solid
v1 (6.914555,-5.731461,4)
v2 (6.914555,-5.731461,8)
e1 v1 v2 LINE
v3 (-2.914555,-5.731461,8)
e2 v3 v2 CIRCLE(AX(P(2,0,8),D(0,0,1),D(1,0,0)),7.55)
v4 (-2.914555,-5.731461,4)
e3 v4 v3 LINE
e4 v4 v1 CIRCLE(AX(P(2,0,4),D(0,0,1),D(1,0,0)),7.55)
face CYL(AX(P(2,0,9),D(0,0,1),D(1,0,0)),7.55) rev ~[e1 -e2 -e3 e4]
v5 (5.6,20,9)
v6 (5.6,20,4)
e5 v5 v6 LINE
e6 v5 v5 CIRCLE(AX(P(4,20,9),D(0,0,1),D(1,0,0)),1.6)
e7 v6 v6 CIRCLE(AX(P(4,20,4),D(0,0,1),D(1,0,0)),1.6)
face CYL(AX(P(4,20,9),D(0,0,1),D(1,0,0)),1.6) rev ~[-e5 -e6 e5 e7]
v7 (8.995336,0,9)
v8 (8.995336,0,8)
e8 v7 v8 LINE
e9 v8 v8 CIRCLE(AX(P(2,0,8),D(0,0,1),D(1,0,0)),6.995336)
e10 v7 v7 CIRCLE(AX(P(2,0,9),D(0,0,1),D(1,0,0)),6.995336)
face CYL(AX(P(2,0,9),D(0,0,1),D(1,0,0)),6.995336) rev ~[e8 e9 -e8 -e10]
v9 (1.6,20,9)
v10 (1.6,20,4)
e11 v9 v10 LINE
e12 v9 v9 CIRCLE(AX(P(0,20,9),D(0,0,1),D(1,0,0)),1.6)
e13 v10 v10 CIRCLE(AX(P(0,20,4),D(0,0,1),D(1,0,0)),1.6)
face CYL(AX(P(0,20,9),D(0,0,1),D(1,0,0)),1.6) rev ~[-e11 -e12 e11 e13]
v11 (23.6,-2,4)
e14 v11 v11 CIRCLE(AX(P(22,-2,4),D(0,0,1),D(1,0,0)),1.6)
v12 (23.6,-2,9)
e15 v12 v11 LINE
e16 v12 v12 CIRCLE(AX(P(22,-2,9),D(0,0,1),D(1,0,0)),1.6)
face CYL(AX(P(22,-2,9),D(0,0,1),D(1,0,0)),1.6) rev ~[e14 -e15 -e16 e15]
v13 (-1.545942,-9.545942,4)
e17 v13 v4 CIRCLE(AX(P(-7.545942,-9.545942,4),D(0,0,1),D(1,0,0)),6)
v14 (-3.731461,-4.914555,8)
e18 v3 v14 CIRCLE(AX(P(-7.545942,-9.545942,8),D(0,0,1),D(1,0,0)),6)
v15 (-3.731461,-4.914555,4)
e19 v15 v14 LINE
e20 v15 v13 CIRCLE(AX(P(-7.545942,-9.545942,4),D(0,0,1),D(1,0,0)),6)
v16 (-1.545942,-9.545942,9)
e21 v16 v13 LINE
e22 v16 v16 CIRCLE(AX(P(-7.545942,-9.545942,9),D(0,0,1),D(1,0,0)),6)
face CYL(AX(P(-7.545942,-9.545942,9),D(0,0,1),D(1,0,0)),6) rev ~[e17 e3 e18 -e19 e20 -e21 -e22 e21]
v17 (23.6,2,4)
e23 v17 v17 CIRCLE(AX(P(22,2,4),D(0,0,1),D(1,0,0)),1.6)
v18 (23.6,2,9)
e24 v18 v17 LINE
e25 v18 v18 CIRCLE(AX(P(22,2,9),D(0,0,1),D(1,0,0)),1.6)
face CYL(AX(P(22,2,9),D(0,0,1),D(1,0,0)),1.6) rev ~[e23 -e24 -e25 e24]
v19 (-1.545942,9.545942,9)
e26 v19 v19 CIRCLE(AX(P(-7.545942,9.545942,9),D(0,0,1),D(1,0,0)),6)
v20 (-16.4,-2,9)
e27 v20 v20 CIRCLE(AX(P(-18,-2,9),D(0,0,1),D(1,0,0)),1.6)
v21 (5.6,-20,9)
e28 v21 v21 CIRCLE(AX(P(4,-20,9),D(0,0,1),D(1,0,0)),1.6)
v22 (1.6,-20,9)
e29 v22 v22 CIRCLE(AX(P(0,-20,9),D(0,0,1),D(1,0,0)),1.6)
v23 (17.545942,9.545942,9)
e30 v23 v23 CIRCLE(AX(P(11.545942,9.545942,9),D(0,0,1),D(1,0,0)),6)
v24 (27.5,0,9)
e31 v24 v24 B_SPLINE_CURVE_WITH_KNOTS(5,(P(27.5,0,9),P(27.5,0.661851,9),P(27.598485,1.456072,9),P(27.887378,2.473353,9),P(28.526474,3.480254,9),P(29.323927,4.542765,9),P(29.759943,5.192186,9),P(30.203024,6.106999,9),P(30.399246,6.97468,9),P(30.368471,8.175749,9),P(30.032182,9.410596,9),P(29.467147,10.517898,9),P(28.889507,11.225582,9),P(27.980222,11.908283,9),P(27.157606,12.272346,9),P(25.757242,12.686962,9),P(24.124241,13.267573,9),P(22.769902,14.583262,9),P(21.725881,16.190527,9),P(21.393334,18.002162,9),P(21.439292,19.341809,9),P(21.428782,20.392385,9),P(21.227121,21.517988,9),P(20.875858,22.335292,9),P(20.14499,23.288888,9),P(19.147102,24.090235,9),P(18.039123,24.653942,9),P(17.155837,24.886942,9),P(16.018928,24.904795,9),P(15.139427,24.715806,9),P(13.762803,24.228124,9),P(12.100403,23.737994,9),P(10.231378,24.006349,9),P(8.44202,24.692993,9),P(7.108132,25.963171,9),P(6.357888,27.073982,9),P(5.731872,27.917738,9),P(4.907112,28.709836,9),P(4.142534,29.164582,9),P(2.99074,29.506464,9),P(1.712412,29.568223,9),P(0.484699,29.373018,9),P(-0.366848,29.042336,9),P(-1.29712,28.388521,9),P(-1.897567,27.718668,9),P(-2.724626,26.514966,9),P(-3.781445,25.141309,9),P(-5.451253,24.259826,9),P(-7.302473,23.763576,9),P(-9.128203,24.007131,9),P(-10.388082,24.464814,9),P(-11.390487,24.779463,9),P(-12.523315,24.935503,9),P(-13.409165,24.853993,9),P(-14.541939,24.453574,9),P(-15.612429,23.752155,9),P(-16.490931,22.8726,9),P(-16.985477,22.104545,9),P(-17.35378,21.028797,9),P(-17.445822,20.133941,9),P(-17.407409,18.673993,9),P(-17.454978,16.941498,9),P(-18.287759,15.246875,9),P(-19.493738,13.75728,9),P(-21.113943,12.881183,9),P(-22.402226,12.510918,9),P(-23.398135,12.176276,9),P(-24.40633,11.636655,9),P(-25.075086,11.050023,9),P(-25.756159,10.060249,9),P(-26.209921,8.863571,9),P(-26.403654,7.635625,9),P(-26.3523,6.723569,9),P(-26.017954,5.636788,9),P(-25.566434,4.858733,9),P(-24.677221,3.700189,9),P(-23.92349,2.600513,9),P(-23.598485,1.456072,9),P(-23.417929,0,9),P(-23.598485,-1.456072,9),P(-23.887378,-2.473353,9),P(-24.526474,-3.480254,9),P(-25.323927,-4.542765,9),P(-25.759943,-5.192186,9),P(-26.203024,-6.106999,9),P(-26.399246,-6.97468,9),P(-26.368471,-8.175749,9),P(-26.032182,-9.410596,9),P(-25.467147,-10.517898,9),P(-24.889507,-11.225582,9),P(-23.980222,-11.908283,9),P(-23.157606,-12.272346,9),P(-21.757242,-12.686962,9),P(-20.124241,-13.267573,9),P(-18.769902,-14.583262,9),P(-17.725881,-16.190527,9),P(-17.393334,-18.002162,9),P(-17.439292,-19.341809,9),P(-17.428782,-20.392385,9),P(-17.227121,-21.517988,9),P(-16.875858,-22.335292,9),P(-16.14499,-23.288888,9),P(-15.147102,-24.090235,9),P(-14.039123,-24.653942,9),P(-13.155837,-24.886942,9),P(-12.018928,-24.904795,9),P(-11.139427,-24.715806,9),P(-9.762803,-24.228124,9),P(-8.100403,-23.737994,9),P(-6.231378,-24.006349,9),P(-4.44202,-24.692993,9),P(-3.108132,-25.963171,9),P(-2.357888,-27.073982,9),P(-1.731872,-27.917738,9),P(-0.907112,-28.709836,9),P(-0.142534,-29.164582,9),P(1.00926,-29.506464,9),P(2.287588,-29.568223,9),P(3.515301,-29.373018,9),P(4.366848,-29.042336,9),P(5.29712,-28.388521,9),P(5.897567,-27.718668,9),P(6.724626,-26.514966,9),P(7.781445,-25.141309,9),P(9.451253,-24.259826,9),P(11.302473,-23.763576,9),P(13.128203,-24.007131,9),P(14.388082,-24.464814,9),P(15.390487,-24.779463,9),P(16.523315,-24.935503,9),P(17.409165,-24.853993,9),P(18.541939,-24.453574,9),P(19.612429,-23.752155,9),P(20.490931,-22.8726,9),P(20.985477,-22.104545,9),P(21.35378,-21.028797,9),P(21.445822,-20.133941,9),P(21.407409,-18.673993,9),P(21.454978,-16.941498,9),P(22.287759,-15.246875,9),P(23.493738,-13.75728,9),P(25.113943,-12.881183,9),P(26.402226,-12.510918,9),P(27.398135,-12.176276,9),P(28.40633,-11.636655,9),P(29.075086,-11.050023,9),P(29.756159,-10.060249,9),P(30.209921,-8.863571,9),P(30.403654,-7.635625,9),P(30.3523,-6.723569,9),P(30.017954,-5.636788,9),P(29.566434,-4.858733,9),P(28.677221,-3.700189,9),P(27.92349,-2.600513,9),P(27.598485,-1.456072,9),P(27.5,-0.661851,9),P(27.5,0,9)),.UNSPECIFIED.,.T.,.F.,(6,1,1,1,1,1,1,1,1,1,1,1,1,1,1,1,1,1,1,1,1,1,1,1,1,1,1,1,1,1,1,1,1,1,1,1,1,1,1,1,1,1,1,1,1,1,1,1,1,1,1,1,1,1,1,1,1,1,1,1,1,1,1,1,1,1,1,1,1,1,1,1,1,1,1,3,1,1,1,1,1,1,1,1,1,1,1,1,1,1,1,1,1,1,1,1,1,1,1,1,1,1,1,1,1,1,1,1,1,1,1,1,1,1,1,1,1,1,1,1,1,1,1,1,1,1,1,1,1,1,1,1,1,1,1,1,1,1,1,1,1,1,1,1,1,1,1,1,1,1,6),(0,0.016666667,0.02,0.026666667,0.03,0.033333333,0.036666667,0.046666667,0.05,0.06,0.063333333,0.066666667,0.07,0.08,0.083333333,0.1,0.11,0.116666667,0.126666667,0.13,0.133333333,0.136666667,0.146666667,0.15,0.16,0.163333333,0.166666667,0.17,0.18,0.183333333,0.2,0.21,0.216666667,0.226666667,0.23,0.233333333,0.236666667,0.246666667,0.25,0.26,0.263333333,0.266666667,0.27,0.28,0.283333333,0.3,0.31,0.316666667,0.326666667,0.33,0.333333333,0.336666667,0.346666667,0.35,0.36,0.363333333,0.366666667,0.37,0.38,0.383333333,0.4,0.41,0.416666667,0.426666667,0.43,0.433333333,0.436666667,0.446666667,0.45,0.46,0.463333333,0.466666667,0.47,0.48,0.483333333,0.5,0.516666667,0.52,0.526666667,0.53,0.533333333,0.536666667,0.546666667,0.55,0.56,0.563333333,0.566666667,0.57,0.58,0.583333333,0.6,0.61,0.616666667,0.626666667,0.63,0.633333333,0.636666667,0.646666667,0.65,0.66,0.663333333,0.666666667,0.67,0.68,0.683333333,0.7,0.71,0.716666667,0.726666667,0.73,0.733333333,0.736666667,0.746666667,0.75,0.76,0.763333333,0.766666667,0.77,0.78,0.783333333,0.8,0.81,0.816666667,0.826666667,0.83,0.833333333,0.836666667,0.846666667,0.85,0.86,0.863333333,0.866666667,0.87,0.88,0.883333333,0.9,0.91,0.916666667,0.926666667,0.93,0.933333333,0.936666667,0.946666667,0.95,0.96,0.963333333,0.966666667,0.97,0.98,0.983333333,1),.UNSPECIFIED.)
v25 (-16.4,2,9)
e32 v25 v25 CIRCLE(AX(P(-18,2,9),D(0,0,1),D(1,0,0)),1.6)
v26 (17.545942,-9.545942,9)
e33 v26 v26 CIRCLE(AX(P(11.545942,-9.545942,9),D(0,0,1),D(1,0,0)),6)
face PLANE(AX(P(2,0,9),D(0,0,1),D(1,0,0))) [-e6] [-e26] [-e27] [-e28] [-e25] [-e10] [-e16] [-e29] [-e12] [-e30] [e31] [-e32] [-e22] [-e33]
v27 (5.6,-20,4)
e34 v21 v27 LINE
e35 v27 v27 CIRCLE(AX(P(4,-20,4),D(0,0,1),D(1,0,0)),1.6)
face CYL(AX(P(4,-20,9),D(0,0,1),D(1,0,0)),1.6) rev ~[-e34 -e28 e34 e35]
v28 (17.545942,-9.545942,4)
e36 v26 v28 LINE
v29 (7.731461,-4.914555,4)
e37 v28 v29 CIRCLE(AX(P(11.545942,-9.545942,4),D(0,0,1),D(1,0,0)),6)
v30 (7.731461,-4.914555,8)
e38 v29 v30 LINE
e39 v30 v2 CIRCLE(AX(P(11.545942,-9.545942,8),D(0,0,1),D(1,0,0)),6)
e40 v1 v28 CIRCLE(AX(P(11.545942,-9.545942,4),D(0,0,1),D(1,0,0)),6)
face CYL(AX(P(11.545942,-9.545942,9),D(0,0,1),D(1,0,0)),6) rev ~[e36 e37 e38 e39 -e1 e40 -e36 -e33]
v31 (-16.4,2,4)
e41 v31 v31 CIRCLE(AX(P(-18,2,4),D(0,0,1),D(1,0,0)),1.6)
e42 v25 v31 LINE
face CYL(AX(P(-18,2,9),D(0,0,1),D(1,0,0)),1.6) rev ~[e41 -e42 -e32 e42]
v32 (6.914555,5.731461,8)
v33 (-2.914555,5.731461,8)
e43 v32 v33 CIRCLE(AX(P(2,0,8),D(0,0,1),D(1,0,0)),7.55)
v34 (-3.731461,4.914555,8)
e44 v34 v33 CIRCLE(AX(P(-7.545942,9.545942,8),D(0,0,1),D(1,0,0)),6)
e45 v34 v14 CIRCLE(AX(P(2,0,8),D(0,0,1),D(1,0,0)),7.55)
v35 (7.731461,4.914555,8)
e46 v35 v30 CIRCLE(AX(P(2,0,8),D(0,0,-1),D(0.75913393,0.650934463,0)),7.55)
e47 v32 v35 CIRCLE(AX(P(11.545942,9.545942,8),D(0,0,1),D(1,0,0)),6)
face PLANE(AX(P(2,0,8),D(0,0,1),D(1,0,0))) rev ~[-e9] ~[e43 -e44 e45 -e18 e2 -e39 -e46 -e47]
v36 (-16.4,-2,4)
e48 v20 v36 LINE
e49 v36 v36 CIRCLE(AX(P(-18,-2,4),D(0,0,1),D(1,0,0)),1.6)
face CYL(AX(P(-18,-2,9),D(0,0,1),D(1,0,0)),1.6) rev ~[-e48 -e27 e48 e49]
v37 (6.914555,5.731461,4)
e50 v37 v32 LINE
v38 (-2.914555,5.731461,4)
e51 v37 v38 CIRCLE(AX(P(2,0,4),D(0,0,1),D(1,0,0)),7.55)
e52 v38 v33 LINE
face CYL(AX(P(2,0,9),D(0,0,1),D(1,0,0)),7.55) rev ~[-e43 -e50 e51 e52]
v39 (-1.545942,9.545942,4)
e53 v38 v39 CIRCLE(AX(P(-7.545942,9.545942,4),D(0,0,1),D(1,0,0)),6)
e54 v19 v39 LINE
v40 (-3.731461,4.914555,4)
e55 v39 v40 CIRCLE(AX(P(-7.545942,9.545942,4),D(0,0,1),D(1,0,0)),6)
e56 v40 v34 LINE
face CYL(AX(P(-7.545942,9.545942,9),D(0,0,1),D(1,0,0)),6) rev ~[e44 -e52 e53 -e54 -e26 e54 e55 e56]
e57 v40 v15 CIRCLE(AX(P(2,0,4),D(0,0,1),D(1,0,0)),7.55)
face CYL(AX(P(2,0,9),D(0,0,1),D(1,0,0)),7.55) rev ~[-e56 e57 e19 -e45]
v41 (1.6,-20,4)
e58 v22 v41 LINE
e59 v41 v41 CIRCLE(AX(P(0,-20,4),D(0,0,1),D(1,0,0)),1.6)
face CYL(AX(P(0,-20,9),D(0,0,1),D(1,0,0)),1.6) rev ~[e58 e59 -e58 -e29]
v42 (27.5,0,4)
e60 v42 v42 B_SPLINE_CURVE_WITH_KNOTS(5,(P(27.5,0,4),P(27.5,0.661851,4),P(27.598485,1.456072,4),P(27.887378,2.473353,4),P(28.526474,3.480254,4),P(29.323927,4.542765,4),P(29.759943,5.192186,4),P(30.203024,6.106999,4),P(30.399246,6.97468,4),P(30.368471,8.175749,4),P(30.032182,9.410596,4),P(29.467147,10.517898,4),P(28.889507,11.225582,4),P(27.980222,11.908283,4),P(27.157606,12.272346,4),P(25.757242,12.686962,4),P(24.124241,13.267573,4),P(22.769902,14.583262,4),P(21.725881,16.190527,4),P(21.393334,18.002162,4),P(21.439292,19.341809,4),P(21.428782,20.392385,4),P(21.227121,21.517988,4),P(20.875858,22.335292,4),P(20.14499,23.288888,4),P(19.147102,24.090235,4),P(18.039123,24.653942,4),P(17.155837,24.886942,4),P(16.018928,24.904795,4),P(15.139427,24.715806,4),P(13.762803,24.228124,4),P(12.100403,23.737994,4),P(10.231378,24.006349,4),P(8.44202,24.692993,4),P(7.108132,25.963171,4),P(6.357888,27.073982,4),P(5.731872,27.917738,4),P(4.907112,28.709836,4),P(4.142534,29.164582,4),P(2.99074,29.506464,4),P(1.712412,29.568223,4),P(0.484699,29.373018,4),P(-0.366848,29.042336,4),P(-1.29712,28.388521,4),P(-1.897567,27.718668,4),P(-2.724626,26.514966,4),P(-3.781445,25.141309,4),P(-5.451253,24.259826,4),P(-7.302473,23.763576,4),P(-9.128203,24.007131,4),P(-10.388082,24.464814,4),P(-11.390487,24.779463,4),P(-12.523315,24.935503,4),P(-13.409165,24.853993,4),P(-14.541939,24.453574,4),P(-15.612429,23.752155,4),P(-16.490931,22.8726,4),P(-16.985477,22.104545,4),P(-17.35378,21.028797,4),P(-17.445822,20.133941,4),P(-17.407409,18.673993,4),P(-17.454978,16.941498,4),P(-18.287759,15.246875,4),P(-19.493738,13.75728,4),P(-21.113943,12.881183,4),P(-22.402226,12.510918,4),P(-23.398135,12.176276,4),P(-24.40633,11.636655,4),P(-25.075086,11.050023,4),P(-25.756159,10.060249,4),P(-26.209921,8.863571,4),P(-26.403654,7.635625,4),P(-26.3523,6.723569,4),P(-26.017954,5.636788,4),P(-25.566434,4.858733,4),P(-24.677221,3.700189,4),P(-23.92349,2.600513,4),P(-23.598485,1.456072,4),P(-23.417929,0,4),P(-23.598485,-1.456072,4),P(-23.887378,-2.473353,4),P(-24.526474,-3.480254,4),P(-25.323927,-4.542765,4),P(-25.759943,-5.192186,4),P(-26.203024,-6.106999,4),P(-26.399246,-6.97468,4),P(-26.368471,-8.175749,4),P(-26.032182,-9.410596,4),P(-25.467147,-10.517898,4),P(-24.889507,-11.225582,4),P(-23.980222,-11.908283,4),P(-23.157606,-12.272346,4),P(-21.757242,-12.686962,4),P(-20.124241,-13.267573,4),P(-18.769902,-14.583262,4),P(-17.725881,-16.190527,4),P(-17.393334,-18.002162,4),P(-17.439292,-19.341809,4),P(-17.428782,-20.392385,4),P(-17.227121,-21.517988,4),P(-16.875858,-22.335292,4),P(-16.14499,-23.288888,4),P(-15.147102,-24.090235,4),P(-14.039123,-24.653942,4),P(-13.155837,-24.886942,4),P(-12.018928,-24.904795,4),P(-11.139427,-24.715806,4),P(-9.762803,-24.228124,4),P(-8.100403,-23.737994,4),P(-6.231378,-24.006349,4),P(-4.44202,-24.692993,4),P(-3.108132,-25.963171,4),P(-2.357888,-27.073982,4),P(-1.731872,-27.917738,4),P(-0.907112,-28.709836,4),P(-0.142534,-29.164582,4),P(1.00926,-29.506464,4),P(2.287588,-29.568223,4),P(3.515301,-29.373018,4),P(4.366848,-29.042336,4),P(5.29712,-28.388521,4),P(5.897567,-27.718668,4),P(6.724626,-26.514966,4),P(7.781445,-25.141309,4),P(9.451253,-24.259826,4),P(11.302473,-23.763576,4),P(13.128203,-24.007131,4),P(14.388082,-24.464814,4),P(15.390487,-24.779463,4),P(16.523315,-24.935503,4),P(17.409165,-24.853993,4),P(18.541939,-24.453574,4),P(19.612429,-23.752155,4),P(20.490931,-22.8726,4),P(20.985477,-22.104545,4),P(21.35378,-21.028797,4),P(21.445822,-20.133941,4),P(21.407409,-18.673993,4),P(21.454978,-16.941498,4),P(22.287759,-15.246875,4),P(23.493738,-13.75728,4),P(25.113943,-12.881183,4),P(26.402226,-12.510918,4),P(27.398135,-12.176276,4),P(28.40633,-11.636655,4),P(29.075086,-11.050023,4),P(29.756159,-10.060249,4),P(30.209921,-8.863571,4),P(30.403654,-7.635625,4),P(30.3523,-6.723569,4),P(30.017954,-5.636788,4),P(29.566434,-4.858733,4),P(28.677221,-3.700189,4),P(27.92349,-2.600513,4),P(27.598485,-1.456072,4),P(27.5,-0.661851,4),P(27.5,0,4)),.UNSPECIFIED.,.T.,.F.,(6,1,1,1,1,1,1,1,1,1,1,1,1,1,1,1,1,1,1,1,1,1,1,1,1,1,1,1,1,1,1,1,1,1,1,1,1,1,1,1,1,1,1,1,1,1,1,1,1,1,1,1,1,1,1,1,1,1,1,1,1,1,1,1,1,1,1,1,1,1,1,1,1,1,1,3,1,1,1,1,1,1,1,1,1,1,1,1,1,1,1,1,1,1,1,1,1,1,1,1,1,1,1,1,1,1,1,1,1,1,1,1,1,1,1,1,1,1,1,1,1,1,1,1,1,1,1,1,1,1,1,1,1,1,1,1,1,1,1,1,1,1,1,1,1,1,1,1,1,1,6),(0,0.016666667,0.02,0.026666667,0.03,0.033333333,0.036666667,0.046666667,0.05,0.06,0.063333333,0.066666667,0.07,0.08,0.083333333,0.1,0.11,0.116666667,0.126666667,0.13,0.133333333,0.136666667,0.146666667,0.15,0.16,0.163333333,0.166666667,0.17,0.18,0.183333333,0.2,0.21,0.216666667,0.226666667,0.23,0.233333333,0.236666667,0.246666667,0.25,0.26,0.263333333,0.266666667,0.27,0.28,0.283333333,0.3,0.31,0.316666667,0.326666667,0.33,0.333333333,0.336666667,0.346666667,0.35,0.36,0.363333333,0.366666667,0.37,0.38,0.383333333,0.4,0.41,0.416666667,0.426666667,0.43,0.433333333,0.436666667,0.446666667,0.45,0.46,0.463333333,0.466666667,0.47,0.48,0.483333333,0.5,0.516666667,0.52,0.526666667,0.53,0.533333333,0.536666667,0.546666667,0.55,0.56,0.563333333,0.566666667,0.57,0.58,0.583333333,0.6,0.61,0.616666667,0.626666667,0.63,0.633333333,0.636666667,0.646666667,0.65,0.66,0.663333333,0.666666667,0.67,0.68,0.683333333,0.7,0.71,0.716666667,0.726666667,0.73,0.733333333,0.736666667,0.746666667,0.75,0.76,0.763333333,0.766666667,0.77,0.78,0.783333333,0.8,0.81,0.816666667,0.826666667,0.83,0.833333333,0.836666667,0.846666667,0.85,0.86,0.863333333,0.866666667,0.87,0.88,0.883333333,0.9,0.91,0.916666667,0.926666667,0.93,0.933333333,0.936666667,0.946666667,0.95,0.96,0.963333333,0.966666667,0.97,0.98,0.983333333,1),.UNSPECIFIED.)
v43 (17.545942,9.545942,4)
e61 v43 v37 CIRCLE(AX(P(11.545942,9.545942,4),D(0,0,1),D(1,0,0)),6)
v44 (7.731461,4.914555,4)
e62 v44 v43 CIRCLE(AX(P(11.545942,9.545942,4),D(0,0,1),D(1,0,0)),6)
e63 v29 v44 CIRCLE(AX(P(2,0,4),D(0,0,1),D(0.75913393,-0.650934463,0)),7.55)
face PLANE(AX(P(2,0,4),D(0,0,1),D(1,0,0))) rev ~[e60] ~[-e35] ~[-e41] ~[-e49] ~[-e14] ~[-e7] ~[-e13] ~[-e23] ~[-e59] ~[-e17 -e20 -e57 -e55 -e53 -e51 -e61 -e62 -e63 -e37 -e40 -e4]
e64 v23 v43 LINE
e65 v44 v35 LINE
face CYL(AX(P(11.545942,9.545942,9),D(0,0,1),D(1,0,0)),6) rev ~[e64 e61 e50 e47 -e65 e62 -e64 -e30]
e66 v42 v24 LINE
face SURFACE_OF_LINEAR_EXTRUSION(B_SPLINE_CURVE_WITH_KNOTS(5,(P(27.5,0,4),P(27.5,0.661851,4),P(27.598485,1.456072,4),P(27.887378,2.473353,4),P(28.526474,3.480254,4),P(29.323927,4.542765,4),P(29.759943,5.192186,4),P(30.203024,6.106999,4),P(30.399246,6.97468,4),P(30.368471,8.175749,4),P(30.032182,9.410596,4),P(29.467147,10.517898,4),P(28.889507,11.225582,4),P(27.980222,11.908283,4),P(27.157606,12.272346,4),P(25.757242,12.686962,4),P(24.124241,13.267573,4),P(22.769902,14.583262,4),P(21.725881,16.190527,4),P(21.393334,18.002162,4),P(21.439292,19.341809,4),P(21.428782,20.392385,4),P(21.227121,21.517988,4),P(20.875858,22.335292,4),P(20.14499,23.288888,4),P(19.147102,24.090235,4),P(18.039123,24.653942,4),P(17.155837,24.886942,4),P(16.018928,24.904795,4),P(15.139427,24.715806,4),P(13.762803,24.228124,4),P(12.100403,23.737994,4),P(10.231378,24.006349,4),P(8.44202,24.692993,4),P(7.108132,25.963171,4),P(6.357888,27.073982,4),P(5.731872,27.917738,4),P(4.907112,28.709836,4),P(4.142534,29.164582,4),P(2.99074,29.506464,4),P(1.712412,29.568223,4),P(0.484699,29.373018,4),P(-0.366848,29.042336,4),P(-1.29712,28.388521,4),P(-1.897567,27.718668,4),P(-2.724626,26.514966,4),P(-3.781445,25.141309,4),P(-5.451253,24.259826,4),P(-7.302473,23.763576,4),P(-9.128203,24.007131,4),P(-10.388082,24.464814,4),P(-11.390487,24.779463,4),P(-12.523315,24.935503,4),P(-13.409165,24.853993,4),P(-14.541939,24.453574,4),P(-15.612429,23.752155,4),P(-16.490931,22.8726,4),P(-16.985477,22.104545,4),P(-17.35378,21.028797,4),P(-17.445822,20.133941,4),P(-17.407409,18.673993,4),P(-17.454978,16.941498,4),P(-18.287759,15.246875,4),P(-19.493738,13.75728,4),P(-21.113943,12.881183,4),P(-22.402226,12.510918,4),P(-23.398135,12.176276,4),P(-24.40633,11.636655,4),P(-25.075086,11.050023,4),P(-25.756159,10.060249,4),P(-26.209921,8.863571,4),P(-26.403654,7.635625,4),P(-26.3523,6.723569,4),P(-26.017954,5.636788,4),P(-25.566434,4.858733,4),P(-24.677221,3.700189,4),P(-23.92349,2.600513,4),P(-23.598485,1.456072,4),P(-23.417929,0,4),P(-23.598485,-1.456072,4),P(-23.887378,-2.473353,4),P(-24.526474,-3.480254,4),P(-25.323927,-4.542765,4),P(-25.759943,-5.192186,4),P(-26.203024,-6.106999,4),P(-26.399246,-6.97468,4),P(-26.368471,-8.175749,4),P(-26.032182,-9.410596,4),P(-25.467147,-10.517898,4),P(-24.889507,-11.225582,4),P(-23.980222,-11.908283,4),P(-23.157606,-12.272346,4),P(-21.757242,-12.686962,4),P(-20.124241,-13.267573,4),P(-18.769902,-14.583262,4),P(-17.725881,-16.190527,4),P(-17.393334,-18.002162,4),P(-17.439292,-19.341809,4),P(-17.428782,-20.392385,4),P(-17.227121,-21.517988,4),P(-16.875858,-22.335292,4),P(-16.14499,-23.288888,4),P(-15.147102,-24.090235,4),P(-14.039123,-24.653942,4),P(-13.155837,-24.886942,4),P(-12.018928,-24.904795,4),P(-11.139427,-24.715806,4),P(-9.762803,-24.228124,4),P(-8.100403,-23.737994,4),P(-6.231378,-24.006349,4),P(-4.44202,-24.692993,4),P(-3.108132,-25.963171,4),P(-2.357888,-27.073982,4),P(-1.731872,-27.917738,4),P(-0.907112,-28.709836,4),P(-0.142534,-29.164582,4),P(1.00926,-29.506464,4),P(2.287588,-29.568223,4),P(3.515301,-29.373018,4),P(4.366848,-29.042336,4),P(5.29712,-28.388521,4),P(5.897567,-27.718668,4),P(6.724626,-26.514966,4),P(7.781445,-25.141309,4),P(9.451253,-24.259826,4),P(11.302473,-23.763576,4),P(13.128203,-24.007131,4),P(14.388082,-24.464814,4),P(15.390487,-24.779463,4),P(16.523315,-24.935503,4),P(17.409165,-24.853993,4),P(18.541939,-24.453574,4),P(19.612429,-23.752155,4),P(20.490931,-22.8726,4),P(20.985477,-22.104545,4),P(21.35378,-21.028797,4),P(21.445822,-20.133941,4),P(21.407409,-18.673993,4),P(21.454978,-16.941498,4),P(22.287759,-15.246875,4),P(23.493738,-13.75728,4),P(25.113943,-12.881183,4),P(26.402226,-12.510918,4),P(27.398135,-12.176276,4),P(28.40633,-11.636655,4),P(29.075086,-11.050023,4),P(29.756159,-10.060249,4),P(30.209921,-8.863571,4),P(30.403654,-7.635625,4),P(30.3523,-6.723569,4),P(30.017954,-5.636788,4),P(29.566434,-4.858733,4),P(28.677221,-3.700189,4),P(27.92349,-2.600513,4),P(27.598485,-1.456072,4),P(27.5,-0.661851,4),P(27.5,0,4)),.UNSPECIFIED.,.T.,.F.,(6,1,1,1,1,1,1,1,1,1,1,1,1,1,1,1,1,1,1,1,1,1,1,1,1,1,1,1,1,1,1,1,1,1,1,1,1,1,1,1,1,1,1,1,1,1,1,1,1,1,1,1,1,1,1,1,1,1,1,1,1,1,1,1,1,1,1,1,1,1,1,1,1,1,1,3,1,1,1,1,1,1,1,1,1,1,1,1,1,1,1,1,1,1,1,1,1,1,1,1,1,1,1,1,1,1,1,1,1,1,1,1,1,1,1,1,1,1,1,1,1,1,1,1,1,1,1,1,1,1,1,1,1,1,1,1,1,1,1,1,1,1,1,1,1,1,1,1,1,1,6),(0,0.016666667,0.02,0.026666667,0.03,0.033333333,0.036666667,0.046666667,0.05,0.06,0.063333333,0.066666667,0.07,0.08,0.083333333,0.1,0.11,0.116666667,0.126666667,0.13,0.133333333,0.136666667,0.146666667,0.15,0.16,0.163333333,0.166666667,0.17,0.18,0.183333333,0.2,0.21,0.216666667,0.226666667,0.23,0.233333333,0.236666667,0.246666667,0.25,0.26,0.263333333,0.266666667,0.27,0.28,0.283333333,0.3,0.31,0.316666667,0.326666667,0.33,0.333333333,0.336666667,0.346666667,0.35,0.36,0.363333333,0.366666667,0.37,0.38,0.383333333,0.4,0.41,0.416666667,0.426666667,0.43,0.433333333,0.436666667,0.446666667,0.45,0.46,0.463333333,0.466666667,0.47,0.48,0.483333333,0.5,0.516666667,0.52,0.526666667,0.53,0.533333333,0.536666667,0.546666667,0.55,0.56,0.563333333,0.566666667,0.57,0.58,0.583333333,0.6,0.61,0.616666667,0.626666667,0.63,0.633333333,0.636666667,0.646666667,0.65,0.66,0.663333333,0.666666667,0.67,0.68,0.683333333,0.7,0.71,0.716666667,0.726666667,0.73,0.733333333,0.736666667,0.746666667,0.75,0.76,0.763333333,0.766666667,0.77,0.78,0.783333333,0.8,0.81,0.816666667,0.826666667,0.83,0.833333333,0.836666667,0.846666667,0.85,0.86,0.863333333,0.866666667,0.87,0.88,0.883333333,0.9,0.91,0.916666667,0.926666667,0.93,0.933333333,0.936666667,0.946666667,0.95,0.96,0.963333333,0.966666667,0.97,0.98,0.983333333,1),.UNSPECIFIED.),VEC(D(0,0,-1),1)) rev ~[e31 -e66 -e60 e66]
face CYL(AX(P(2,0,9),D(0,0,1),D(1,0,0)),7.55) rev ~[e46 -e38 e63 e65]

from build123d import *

# Parameters (mm, degrees)
SKETCH3_R                  = 7.5
CYC_DISK_DEPTH             = 5
SKETCH6_R                  = 7.55
CAM_BEARING_DEPTH          = 43.617229285
SKETCH8_R                  = 7.575
SKETCH8_R_2                = 6.995336342
CAM_BEARING_RETAINER_DEPTH = 1
SKETCH9_R                  = 1.6
POSITIONING_HOLES_DEPTH    = 43.617229285
SKETCH11_R                 = 6
OUTPUT_HOLES_DEPTH         = 43.617229285


with BuildPart() as part:
    # Sketch3 → CYC Disk (new body)
    with BuildSketch(Plane.XY.offset(4)):
        with BuildLine():
            add(Edge.make_bspline(
                [(-23.5, 0), (-23.500000004, -0.661850826), (-23.598485334, -1.456071804), (-23.887378462, -2.473353009), (-24.526473508, -3.480254489), (-25.323926988, -4.542764949), (-25.759943157, -5.192186221), (-26.203023639, -6.106999259), (-26.399245523, -6.974680154), (-26.368470738, -8.175748768), (-26.032181523, -9.410596043), (-25.46714701, -10.517898357), (-24.88950703, -11.225581762), (-23.980221887, -11.908283091), (-23.157605578, -12.27234585), (-21.75724169, -12.686961807), (-20.124240836, -13.267572581), (-18.769902135, -14.583261804), (-17.725881209, -16.190526715), (-17.393334278, -18.002161758), (-17.43929245, -19.341809491), (-17.428782036, -20.39238515), (-17.227121316, -21.51798755), (-16.875858121, -22.335292469), (-16.144990379, -23.288888425), (-15.147101673, -24.090235015), (-14.039123179, -24.653942451), (-13.15583675, -24.886942091), (-12.018927843, -24.904794671), (-11.139426548, -24.715805895), (-9.76280322, -24.22812401), (-8.100403327, -23.737994173), (-6.23137758, -24.006348799), (-4.442020297, -24.692993323), (-3.108131817, -25.963170679), (-2.357887579, -27.073981998), (-1.731871597, -27.917737693), (-0.907112157, -28.709835967), (-0.142534485, -29.16458221), (1.009259579, -29.506464264), (2.287588208, -29.568223008), (3.515300557, -29.373018486), (4.366848041, -29.042336417), (5.297120151, -28.388521169), (5.89756683, -27.718668148), (6.724626277, -26.514966324), (7.781444952, -25.141308816), (9.451253436, -24.259826499), (11.302473412, -23.763575766), (13.128203378, -24.007130856), (14.388082228, -24.464813592), (15.39048695, -24.779463326), (16.523315038, -24.935502855), (17.409164503, -24.853992814), (18.541938704, -24.453573642), (19.612429169, -23.752154799), (20.490930983, -22.872599811), (20.985477327, -22.104545345), (21.353780313, -21.028797471), (21.445822153, -20.13394129), (21.40740912, -18.673992713), (21.454977764, -16.941498013), (22.287758898, -15.246875037), (23.493738457, -13.75727996), (25.113943117, -12.881183019), (26.402225679, -12.510917922), (27.398134609, -12.176276192), (28.406329517, -11.63665518), (29.075086389, -11.05002292), (29.756159484, -10.060249035), (30.209920811, -8.863570763), (30.403654258, -7.63562542), (30.352299566, -6.723569256), (30.017954205, -5.636787881), (29.566434352, -4.858733188), (28.677221314, -3.700188592), (27.92348978, -2.600513359), (27.598485315, -1.456071829), (27.499999996, -0.661850826), (27.5, 0)],
                knots=[0.5, 0.5, 0.5, 0.5, 0.5, 0.5, 0.516666667, 0.52, 0.526666667, 0.53, 0.533333333, 0.536666667, 0.546666667, 0.55, 0.56, 0.563333333, 0.566666667, 0.57, 0.58, 0.583333333, 0.6, 0.61, 0.616666667, 0.626666667, 0.63, 0.633333333, 0.636666667, 0.646666667, 0.65, 0.66, 0.663333333, 0.666666667, 0.67, 0.68, 0.683333333, 0.7, 0.71, 0.716666667, 0.726666667, 0.73, 0.733333333, 0.736666667, 0.746666667, 0.75, 0.76, 0.763333333, 0.766666667, 0.77, 0.78, 0.783333333, 0.8, 0.81, 0.816666667, 0.826666667, 0.83, 0.833333333, 0.836666667, 0.846666667, 0.85, 0.86, 0.863333333, 0.866666667, 0.87, 0.88, 0.883333333, 0.9, 0.91, 0.916666667, 0.926666667, 0.93, 0.933333333, 0.936666667, 0.946666667, 0.95, 0.96, 0.963333333, 0.966666667, 0.97, 0.98, 0.983333333, 1, 1, 1, 1, 1, 1], degree=5, weights=[1, 1, 1, 1, 1, 1, 1, 1, 1, 1, 1, 1, 1, 1, 1, 1, 1, 1, 1, 1, 1, 1, 1, 1, 1, 1, 1, 1, 1, 1, 1, 1, 1, 1, 1, 1, 1, 1, 1, 1, 1, 1, 1, 1, 1, 1, 1, 1, 1, 1, 1, 1, 1, 1, 1, 1, 1, 1, 1, 1, 1, 1, 1, 1, 1, 1, 1, 1, 1, 1, 1, 1, 1, 1, 1, 1, 1, 1, 1, 1]))
            add(Edge.make_bspline(
                [(27.5, 0), (27.500000004, 0.661850826), (27.598485335, 1.456071804), (27.887378462, 2.473353009), (28.526473508, 3.480254489), (29.323926988, 4.542764949), (29.759943157, 5.192186221), (30.203023639, 6.106999259), (30.399245523, 6.974680154), (30.368470738, 8.175748768), (30.032181523, 9.410596043), (29.46714701, 10.517898357), (28.88950703, 11.225581762), (27.980221887, 11.908283091), (27.157605578, 12.27234585), (25.75724169, 12.686961807), (24.124240836, 13.267572581), (22.769902135, 14.583261804), (21.725881209, 16.190526715), (21.393334278, 18.002161758), (21.43929245, 19.341809491), (21.428782036, 20.39238515), (21.227121316, 21.51798755), (20.875858121, 22.335292469), (20.144990379, 23.288888425), (19.147101673, 24.090235015), (18.039123179, 24.653942451), (17.15583675, 24.886942091), (16.018927843, 24.904794671), (15.139426548, 24.715805895), (13.76280322, 24.22812401), (12.100403327, 23.737994173), (10.23137758, 24.006348799), (8.442020297, 24.692993323), (7.108131817, 25.963170679), (6.357887579, 27.073981998), (5.731871597, 27.917737693), (4.907112157, 28.709835967), (4.142534485, 29.16458221), (2.990740421, 29.506464264), (1.712411792, 29.568223008), (0.484699443, 29.373018486), (-0.366848041, 29.042336417), (-1.297120151, 28.388521169), (-1.89756683, 27.718668148), (-2.724626277, 26.514966324), (-3.781444952, 25.141308816), (-5.451253436, 24.259826499), (-7.302473412, 23.763575766), (-9.128203378, 24.007130856), (-10.388082228, 24.464813592), (-11.39048695, 24.779463326), (-12.523315038, 24.935502855), (-13.409164503, 24.853992814), (-14.541938704, 24.453573642), (-15.612429169, 23.752154799), (-16.490930983, 22.872599811), (-16.985477327, 22.104545345), (-17.353780313, 21.028797471), (-17.445822153, 20.13394129), (-17.40740912, 18.673992713), (-17.454977764, 16.941498013), (-18.287758898, 15.246875037), (-19.493738457, 13.75727996), (-21.113943117, 12.881183019), (-22.402225679, 12.510917922), (-23.398134609, 12.176276192), (-24.406329517, 11.63665518), (-25.075086389, 11.05002292), (-25.756159484, 10.060249035), (-26.209920811, 8.863570763), (-26.403654258, 7.63562542), (-26.352299566, 6.723569256), (-26.017954205, 5.636787881), (-25.566434352, 4.858733188), (-24.677221314, 3.700188592), (-23.92348978, 2.600513359), (-23.598485314, 1.456071829), (-23.499999996, 0.661850826), (-23.5, 0)],
                knots=[0, 0, 0, 0, 0, 0, 0.016666667, 0.02, 0.026666667, 0.03, 0.033333333, 0.036666667, 0.046666667, 0.05, 0.06, 0.063333333, 0.066666667, 0.07, 0.08, 0.083333333, 0.1, 0.11, 0.116666667, 0.126666667, 0.13, 0.133333333, 0.136666667, 0.146666667, 0.15, 0.16, 0.163333333, 0.166666667, 0.17, 0.18, 0.183333333, 0.2, 0.21, 0.216666667, 0.226666667, 0.23, 0.233333333, 0.236666667, 0.246666667, 0.25, 0.26, 0.263333333, 0.266666667, 0.27, 0.28, 0.283333333, 0.3, 0.31, 0.316666667, 0.326666667, 0.33, 0.333333333, 0.336666667, 0.346666667, 0.35, 0.36, 0.363333333, 0.366666667, 0.37, 0.38, 0.383333333, 0.4, 0.41, 0.416666667, 0.426666667, 0.43, 0.433333333, 0.436666667, 0.446666667, 0.45, 0.46, 0.463333333, 0.466666667, 0.47, 0.48, 0.483333333, 0.5, 0.5, 0.5, 0.5, 0.5, 0.5], degree=5, weights=[1, 1, 1, 1, 1, 1, 1, 1, 1, 1, 1, 1, 1, 1, 1, 1, 1, 1, 1, 1, 1, 1, 1, 1, 1, 1, 1, 1, 1, 1, 1, 1, 1, 1, 1, 1, 1, 1, 1, 1, 1, 1, 1, 1, 1, 1, 1, 1, 1, 1, 1, 1, 1, 1, 1, 1, 1, 1, 1, 1, 1, 1, 1, 1, 1, 1, 1, 1, 1, 1, 1, 1, 1, 1, 1, 1, 1, 1, 1, 1]))
        make_face()
        with Locations((2, 0)):
            Circle(SKETCH3_R, mode=Mode.SUBTRACT)
    extrude(amount=CYC_DISK_DEPTH)

    # Sketch6 → Cam Bearing (cut, through all)
    with BuildSketch(Plane.XY.offset(9)):
        with Locations((2, 0)):
            Circle(SKETCH6_R)
    extrude(amount=-CAM_BEARING_DEPTH, mode=Mode.SUBTRACT)

    # Sketch8 → Cam Bearing Retainer (add)
    with BuildSketch(Plane.XY.offset(9)):
        with Locations((2, 0)):
            Circle(SKETCH8_R)
        with Locations((2, 0)):
            Circle(SKETCH8_R_2, mode=Mode.SUBTRACT)
    extrude(amount=-CAM_BEARING_RETAINER_DEPTH)

    # Sketch9 → Positioning Holes (cut, through all)
    with BuildSketch(Plane.XY.offset(9)):
        with Locations((0, 20)):
            Circle(SKETCH9_R)
        with Locations((4, 20)):
            Circle(SKETCH9_R)
        with Locations((22, -2)):
            Circle(SKETCH9_R)
        with Locations((22, 2)):
            Circle(SKETCH9_R)
        with Locations((0, -20)):
            Circle(SKETCH9_R)
        with Locations((4, -20)):
            Circle(SKETCH9_R)
        with Locations((-18, 2)):
            Circle(SKETCH9_R)
        with Locations((-18, -2)):
            Circle(SKETCH9_R)
    extrude(amount=-POSITIONING_HOLES_DEPTH, mode=Mode.SUBTRACT)

    # Sketch11 → Output Holes (cut, through all)
    with BuildSketch(Plane.XY.offset(9)):
        with Locations((11.545941546, 9.545941546)):
            Circle(SKETCH11_R)
        with Locations((11.545941546, -9.545941546)):
            Circle(SKETCH11_R)
        with Locations((-7.545941546, -9.545941546)):
            Circle(SKETCH11_R)
        with Locations((-7.545941546, 9.545941546)):
            Circle(SKETCH11_R)
    extrude(amount=-OUTPUT_HOLES_DEPTH, mode=Mode.SUBTRACT)


solid = part.part
